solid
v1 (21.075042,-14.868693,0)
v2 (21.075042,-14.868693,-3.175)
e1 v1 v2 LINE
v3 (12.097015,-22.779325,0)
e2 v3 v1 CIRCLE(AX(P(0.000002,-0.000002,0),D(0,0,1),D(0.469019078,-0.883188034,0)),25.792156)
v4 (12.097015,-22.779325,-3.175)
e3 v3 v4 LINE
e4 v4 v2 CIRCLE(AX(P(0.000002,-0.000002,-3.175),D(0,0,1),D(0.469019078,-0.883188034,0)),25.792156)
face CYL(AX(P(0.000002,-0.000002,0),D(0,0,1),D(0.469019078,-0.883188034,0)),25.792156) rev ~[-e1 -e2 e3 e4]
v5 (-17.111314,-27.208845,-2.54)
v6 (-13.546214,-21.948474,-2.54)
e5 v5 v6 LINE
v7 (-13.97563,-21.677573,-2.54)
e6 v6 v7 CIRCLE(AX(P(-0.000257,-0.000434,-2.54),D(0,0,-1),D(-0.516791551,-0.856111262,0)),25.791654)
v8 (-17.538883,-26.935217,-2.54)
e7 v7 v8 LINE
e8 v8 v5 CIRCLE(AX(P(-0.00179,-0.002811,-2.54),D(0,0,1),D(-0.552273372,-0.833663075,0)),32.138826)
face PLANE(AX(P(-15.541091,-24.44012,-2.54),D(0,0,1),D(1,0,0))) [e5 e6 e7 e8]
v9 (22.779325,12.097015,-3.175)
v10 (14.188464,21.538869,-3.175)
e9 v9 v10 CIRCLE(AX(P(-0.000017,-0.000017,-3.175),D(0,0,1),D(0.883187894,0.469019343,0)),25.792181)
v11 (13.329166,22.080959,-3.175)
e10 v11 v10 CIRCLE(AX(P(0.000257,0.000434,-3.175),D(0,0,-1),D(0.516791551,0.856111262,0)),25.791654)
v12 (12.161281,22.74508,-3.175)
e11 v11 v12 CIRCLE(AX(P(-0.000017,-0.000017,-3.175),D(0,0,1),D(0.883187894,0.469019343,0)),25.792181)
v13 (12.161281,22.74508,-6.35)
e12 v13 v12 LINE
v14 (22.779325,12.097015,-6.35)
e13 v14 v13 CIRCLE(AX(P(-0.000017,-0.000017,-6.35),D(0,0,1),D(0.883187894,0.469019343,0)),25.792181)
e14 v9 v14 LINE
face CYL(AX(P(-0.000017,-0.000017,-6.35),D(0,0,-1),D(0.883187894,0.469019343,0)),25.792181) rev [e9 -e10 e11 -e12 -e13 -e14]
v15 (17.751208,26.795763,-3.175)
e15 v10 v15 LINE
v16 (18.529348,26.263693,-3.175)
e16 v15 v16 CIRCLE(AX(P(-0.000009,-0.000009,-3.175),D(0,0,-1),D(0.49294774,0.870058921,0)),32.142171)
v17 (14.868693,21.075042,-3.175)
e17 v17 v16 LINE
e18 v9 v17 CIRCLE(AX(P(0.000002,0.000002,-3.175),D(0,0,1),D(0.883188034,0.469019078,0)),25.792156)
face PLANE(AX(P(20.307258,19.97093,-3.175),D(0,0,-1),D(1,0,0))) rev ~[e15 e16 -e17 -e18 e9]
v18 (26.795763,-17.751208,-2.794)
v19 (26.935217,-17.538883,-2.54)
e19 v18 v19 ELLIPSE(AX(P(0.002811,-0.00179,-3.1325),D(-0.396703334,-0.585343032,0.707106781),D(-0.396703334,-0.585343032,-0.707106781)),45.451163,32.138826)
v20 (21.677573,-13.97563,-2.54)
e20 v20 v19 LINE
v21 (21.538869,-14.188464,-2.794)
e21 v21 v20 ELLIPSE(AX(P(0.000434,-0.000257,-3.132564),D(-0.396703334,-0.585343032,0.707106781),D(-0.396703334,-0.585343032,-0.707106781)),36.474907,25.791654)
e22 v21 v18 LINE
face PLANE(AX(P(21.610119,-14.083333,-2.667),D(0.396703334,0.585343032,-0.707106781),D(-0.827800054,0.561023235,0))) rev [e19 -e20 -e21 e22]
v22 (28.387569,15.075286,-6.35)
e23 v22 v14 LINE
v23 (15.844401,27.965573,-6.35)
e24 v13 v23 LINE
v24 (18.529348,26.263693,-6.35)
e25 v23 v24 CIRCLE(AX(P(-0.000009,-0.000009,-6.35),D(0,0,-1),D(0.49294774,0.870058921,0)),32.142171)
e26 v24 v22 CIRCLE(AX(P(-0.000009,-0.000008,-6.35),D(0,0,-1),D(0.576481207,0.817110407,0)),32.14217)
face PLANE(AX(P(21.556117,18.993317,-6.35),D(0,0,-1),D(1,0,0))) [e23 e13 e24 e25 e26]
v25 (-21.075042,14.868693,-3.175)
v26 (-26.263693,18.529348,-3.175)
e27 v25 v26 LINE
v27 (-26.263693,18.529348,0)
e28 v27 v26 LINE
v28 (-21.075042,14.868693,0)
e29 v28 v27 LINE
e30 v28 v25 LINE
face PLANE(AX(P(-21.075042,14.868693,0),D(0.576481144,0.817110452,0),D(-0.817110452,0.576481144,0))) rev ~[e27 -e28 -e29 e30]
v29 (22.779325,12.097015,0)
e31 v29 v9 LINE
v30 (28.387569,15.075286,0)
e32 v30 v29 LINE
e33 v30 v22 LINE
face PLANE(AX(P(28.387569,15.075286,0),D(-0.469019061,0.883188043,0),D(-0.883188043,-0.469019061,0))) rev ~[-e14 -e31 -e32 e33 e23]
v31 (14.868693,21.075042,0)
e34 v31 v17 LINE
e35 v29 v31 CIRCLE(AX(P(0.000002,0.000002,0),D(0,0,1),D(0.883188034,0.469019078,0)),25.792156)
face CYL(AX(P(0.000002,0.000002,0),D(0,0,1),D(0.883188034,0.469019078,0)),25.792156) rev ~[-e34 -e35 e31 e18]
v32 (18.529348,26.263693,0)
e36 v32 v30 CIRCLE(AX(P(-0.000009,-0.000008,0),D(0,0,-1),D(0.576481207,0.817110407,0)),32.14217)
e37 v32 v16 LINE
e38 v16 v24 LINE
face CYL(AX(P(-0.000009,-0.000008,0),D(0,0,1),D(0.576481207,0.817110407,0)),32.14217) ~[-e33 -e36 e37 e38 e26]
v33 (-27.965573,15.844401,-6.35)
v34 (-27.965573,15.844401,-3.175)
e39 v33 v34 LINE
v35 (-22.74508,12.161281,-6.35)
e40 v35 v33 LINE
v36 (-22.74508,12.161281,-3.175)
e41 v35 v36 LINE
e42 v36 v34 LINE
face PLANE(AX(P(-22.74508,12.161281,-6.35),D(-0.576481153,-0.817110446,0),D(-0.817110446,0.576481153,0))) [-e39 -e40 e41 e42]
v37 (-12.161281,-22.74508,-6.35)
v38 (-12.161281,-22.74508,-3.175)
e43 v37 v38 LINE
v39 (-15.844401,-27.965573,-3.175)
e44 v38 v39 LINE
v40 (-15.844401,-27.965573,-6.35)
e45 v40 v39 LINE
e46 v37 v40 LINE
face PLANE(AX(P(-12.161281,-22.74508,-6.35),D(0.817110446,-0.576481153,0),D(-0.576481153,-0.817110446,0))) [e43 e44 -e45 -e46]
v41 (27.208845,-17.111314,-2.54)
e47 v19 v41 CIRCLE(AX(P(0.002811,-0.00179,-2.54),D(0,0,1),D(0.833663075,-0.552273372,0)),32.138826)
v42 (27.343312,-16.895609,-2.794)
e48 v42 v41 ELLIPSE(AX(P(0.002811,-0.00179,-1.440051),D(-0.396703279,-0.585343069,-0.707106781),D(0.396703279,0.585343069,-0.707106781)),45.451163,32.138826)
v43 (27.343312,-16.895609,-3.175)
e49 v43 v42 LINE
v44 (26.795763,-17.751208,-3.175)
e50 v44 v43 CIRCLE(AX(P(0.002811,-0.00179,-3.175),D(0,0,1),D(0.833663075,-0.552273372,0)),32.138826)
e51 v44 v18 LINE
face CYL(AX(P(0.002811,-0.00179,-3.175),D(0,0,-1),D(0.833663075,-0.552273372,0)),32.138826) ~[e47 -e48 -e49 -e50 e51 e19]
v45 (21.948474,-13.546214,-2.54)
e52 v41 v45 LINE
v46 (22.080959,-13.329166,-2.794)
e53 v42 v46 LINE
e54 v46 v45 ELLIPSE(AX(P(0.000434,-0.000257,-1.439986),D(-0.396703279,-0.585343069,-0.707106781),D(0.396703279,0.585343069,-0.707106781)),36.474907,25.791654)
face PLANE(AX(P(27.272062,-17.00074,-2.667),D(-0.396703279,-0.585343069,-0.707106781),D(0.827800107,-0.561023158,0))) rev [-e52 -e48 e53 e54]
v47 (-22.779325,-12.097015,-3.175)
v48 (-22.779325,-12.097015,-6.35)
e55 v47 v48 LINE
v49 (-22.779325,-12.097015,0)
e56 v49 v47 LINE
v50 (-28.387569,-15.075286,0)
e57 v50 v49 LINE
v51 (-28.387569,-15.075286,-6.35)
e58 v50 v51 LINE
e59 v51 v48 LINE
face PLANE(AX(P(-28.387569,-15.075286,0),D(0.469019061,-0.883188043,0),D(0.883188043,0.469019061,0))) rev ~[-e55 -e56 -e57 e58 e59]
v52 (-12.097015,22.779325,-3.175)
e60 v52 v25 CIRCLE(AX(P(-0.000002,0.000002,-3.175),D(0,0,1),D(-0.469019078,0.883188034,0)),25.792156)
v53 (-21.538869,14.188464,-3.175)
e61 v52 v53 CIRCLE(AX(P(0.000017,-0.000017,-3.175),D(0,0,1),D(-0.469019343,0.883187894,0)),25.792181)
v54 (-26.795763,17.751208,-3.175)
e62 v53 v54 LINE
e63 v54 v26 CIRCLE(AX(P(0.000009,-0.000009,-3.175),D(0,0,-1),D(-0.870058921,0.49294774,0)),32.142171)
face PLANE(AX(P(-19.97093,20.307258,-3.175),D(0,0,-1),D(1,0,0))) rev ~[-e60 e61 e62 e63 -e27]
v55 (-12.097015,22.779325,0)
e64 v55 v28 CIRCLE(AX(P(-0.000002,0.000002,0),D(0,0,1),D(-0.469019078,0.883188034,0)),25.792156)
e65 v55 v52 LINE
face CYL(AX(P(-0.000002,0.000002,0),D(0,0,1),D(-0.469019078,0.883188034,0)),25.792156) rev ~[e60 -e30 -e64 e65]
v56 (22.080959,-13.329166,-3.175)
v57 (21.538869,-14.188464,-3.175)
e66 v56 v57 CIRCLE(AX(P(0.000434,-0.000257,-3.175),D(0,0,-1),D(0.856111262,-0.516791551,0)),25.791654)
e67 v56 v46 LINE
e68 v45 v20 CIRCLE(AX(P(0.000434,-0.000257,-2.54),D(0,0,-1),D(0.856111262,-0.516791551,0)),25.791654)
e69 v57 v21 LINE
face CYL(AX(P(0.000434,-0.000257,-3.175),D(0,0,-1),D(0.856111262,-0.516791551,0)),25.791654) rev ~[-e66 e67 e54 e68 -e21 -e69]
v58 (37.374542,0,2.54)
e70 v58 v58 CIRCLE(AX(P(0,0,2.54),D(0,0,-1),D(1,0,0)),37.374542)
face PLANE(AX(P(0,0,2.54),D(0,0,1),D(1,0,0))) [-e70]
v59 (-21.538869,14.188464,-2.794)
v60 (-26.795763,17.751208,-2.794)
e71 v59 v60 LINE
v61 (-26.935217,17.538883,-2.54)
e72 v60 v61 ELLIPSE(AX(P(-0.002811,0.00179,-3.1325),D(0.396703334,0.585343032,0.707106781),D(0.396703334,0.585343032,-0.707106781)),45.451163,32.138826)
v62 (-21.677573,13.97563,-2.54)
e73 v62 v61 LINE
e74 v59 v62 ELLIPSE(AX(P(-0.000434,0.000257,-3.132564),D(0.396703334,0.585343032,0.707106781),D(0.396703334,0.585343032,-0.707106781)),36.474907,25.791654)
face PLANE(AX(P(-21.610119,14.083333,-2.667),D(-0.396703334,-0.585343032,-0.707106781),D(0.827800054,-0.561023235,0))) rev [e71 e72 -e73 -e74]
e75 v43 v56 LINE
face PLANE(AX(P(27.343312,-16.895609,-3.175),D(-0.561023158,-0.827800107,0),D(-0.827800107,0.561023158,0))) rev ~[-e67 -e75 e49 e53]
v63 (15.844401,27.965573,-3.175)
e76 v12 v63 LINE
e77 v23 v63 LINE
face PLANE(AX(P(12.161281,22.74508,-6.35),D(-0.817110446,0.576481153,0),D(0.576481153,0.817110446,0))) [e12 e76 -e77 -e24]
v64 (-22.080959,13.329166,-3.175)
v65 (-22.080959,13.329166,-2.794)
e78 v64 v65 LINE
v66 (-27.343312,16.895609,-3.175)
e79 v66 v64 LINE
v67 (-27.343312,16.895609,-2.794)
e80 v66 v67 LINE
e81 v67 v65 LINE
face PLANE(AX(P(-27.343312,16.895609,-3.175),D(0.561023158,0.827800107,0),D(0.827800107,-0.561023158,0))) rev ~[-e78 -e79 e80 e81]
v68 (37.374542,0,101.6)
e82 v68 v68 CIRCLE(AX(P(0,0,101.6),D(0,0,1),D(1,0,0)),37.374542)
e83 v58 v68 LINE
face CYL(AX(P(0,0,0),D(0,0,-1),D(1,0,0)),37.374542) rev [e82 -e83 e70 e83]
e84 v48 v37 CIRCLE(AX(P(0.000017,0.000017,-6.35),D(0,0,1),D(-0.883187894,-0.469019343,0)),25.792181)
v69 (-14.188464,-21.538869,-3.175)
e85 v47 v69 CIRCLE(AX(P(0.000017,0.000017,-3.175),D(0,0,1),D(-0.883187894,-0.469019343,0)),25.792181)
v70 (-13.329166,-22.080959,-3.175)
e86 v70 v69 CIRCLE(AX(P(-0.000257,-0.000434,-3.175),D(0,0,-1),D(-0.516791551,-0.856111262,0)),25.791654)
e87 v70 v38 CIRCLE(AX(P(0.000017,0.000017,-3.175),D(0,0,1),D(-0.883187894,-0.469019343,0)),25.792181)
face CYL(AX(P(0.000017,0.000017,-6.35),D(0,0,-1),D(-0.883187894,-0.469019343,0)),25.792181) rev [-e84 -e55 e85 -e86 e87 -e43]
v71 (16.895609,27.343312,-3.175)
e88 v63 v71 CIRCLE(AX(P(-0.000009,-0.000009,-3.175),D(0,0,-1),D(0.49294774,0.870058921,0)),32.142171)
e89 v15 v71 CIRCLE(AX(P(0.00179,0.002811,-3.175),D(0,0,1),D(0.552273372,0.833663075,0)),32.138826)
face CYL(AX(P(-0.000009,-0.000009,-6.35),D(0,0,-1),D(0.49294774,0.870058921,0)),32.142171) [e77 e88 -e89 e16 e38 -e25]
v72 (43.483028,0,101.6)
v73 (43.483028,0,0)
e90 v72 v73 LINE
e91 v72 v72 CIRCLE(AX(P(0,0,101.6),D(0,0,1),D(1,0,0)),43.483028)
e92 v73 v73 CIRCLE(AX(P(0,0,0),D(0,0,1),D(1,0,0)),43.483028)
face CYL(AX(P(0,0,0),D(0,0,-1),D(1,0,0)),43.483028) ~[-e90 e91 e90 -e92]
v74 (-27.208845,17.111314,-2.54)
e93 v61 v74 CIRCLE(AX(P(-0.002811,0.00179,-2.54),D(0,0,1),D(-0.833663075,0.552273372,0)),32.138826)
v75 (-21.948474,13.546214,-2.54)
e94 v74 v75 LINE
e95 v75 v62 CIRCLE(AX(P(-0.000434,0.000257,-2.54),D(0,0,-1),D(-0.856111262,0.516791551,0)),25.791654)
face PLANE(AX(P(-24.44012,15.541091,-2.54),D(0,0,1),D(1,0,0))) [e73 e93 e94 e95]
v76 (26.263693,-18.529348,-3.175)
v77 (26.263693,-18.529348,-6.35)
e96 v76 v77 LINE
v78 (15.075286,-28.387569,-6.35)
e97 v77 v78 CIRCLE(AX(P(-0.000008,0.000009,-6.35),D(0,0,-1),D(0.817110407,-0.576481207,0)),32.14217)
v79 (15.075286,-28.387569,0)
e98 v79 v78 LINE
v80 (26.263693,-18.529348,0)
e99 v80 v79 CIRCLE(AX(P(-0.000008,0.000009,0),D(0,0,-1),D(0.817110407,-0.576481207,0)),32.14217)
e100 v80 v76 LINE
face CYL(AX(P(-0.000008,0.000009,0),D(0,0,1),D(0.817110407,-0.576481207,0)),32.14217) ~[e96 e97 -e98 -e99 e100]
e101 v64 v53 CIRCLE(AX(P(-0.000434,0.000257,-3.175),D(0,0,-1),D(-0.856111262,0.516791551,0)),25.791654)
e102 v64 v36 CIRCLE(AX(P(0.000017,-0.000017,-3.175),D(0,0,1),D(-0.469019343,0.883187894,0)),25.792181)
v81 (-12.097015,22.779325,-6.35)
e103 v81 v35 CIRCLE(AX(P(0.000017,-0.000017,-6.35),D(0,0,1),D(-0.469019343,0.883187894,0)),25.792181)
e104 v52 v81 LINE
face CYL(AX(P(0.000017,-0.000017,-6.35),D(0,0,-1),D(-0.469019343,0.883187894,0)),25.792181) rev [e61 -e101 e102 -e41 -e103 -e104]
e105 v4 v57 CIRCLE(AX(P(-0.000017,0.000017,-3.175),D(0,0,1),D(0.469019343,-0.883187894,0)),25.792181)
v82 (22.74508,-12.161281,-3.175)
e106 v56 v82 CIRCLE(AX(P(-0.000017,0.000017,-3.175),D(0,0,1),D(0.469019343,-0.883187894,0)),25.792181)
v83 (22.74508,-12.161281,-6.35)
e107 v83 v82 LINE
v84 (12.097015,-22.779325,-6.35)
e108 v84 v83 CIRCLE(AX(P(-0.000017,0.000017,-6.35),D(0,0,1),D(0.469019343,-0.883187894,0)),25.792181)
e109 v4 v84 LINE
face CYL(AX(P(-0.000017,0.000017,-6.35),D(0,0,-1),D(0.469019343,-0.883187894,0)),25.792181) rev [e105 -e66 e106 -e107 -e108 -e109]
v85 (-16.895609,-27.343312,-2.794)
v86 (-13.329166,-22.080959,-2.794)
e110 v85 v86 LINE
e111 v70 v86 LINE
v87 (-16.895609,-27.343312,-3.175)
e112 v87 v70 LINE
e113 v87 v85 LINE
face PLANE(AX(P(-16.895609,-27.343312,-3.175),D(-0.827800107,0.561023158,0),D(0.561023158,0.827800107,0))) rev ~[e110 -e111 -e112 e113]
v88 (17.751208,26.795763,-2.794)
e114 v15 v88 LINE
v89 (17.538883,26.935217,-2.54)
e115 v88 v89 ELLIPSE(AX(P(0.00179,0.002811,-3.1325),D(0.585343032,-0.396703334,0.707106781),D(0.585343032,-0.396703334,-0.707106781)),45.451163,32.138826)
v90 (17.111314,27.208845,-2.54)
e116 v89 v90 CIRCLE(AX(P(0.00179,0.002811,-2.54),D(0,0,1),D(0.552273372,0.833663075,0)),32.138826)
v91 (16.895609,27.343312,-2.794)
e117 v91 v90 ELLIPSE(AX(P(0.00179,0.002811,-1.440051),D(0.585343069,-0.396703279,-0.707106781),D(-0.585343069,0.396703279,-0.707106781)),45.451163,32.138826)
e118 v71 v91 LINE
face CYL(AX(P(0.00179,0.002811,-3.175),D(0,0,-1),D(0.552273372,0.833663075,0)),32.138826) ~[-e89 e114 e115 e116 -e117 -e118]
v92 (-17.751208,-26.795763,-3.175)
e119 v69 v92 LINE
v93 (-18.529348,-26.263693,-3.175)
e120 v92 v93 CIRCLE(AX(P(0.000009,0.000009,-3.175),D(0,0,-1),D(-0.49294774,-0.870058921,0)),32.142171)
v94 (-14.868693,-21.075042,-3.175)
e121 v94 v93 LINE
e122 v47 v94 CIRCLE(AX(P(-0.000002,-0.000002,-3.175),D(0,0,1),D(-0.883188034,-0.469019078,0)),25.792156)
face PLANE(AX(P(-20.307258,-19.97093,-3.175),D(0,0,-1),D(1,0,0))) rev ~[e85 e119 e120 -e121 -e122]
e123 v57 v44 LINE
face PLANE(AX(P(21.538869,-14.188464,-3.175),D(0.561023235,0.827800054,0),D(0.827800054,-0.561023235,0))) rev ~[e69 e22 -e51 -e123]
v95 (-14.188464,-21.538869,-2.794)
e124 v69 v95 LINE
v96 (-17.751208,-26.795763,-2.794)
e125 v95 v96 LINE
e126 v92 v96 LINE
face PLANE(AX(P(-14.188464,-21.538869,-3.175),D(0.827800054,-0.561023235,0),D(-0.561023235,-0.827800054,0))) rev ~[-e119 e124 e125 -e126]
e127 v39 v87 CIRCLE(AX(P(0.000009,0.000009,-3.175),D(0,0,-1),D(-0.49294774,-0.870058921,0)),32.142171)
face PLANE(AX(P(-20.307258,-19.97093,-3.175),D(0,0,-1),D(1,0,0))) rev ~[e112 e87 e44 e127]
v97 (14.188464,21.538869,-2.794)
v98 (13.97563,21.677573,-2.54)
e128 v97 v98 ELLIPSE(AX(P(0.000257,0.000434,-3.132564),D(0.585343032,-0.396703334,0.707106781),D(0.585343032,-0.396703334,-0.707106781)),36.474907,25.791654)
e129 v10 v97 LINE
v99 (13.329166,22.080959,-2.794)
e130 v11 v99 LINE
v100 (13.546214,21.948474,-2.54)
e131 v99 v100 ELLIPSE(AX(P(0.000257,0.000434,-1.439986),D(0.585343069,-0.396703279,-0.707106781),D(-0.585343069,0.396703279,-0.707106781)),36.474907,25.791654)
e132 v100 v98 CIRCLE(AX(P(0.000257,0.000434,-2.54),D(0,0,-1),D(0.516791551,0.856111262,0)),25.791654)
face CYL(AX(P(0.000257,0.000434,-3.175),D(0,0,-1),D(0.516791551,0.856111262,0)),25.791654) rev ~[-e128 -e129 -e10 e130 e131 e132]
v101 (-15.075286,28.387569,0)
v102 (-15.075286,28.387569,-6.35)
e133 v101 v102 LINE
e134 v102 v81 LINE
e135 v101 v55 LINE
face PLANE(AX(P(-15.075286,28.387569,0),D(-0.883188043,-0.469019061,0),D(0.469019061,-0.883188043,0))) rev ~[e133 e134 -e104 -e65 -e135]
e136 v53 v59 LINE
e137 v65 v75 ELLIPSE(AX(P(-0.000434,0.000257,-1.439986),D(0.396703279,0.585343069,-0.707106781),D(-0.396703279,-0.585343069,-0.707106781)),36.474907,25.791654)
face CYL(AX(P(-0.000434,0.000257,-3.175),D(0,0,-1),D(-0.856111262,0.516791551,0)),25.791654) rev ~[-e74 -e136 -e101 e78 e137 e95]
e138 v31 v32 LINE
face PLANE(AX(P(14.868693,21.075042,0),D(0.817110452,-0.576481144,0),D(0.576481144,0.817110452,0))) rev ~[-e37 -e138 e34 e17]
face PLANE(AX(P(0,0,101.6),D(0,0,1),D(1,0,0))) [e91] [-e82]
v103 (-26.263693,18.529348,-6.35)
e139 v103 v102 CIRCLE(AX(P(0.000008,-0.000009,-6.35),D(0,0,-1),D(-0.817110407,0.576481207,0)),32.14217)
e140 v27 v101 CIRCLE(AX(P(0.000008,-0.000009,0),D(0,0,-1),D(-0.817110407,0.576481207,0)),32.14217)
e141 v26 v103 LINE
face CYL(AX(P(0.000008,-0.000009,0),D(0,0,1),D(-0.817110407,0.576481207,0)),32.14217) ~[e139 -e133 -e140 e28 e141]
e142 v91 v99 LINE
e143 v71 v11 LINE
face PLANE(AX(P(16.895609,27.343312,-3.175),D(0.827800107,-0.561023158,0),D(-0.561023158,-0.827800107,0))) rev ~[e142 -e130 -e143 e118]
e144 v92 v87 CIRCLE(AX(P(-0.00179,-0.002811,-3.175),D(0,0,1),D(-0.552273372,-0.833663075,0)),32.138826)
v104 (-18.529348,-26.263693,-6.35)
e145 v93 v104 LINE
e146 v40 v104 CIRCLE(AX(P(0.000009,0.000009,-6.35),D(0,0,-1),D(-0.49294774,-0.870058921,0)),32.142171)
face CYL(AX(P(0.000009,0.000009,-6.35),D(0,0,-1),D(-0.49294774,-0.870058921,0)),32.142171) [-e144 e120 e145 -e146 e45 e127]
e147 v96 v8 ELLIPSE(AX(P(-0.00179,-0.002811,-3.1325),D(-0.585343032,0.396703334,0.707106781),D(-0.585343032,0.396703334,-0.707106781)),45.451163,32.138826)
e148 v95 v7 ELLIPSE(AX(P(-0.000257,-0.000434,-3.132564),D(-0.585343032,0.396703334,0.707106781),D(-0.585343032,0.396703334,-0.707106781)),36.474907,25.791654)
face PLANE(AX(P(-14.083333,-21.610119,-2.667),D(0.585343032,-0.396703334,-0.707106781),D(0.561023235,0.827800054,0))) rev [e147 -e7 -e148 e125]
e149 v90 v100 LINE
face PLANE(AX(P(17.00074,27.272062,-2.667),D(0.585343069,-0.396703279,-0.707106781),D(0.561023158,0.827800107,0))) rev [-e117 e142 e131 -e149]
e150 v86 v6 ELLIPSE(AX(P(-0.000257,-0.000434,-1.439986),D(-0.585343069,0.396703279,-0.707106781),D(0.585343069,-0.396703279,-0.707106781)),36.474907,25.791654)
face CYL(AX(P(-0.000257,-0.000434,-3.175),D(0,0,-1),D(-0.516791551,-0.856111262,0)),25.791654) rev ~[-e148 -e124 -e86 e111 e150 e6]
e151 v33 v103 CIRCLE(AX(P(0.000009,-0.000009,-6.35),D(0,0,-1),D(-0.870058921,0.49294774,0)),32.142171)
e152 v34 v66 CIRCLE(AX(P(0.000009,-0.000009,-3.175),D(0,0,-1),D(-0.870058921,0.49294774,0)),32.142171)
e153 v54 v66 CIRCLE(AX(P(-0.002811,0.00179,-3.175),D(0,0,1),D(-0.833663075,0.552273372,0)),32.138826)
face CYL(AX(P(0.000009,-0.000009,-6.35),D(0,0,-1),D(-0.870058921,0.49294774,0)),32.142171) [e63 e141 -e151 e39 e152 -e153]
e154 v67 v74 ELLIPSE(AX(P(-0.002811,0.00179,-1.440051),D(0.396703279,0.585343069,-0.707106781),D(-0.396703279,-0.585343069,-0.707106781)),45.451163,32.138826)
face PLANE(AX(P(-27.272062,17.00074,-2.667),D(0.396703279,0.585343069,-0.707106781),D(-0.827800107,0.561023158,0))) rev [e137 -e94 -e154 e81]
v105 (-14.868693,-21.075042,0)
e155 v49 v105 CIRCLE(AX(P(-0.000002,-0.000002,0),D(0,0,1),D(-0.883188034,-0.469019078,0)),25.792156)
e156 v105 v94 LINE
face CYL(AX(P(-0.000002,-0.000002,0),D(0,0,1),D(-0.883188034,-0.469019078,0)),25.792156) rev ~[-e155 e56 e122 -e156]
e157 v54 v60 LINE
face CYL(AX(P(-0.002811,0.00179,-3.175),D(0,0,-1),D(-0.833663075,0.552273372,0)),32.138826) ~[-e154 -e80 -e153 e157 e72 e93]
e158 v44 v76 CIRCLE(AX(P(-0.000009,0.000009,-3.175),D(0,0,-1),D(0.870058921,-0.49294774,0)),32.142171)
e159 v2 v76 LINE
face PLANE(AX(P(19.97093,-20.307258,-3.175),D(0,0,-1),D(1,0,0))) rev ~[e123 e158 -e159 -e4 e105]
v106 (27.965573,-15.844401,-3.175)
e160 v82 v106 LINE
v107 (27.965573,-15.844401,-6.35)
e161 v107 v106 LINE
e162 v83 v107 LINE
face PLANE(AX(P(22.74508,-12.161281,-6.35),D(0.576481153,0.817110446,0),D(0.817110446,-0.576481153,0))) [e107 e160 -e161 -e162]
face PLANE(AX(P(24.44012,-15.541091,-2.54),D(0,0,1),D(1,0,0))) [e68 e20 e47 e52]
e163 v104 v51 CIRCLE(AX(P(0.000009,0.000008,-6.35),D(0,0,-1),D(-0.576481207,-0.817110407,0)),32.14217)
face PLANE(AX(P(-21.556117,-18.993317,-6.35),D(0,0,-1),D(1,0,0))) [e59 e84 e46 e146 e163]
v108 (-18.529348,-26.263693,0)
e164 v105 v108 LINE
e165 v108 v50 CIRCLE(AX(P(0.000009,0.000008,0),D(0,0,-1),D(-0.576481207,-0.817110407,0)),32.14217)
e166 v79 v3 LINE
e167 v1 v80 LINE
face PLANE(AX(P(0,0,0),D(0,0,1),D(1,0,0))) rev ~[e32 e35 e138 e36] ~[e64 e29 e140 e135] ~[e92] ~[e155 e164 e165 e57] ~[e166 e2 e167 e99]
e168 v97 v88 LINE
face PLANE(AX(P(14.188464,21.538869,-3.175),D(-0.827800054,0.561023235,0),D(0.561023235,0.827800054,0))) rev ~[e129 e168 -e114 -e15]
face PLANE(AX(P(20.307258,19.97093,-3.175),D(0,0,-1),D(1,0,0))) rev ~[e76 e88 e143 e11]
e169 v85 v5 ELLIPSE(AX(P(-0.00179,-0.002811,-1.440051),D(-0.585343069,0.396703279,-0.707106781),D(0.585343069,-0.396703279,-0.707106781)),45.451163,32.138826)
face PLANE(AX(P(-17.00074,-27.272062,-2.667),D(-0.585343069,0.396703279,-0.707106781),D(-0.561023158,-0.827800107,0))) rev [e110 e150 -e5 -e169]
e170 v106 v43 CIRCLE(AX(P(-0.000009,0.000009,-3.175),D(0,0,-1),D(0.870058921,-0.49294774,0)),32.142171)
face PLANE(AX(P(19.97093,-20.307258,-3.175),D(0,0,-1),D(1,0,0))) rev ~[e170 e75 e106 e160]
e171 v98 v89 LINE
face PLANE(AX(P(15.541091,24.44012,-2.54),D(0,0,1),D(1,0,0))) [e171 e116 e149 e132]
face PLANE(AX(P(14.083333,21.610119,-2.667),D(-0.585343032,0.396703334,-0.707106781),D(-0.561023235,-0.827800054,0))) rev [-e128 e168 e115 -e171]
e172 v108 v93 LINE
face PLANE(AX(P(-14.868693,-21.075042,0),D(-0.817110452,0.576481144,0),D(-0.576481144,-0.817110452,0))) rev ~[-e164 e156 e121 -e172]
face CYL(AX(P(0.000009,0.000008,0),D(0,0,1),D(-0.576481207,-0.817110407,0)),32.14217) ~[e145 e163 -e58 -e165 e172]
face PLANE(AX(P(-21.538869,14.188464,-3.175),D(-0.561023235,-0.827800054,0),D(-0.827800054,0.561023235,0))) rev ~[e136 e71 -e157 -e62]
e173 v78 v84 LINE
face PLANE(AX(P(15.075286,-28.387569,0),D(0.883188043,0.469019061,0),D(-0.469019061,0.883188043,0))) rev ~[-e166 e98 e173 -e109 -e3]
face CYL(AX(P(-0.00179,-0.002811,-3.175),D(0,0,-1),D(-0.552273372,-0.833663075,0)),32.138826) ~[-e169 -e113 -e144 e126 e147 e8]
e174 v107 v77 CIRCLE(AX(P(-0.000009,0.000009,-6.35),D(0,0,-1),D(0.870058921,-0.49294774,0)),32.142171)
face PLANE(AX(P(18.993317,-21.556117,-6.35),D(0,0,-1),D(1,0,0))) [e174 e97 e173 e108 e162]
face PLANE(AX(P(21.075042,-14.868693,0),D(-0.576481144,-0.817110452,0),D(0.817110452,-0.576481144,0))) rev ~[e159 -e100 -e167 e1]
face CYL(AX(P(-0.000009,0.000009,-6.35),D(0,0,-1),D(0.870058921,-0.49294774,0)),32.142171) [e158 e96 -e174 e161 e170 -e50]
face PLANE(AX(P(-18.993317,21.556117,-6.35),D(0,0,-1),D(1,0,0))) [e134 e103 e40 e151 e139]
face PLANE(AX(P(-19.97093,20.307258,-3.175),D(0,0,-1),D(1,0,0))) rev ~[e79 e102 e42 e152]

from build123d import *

# Parameters (mm, degrees)
F0_R     = 43.483028
F0_R_2   = 37.374542
F1_DEPTH = 101.6
F2_R     = 43.483028
F3_DEPTH = 2.54
F5_DEPTH = 6.35
F7_DEPTH = 3.175
F9_DEPTH = 0.635
F10_SIZE = 0.254


with BuildPart() as f1:
    # F0 (on Top) → F1 (new body)
    with BuildSketch(Plane.XY):
        Circle(F0_R)
        Circle(F0_R_2, mode=Mode.SUBTRACT)
    extrude(amount=F1_DEPTH)

    # F2 (on Top) → F3 (join)
    with BuildSketch(Plane.XY):
        Circle(F2_R)
    extrude(amount=F3_DEPTH)

    # F4 (on face) → F5 (join)
    with BuildSketch(Plane(origin=(0, 0, 0), x_dir=(1, 0, 0), z_dir=(0, 0, -1))):
        with BuildLine():
            ThreePointArc((26.263693, 18.529348), (21.249092, 24.116268), (15.075286, 28.387569))
            Line((15.075286, 28.387569), (12.097015, 22.779325))
            ThreePointArc((12.097015, 22.779325), (17.051125, 19.351862), (21.075042, 14.868693))
            Line((21.075042, 14.868693), (26.263693, 18.529348))
        make_face()
        with BuildLine():
            Line((-28.387569, 15.075286), (-22.779325, 12.097015))
            ThreePointArc((-22.779325, 12.097015), (-19.351862, 17.051125), (-14.868693, 21.075042))
            Line((-14.868693, 21.075042), (-18.529348, 26.263693))
            ThreePointArc((-18.529348, 26.263693), (-24.116268, 21.249092), (-28.387569, 15.075286))
        make_face()
        with BuildLine():
            Line((-15.075286, -28.387569), (-12.097015, -22.779325))
            ThreePointArc((-12.097015, -22.779325), (-17.051125, -19.351862), (-21.075042, -14.868693))
            Line((-21.075042, -14.868693), (-26.263693, -18.529348))
            ThreePointArc((-26.263693, -18.529348), (-21.249092, -24.116268), (-15.075286, -28.387569))
        make_face()
        with BuildLine():
            Line((28.387569, -15.075286), (22.779325, -12.097015))
            ThreePointArc((22.779325, -12.097015), (19.351862, -17.051125), (14.868693, -21.075042))
            Line((14.868693, -21.075042), (18.529348, -26.263693))
            ThreePointArc((18.529348, -26.263693), (24.116268, -21.249092), (28.387569, -15.075286))
        make_face()
    extrude(amount=F5_DEPTH)

    # F6 (on face) → F7 (join)
    with BuildSketch(Plane(origin=(0, 0, -6.35), x_dir=(1, 0, 0), z_dir=(0, 0, -1))):
        with BuildLine():
            Line((15.075286, 28.387569), (12.097015, 22.779325))
            ThreePointArc((12.097015, 22.779325), (18.212045, 18.263537), (22.74508, 12.161281))
            Line((22.74508, 12.161281), (27.965573, 15.844401))
            ThreePointArc((27.965573, 15.844401), (22.415656, 23.035986), (15.075286, 28.387569))
        make_face()
        with BuildLine():
            Line((-28.387569, 15.075286), (-22.779325, 12.097015))
            ThreePointArc((-22.779325, 12.097015), (-18.263537, 18.212045), (-12.161281, 22.74508))
            Line((-12.161281, 22.74508), (-15.844401, 27.965573))
            ThreePointArc((-15.844401, 27.965573), (-23.035986, 22.415656), (-28.387569, 15.075286))
        make_face()
        with BuildLine():
            Line((-15.075286, -28.387569), (-12.097015, -22.779325))
            ThreePointArc((-12.097015, -22.779325), (-18.212045, -18.263537), (-22.74508, -12.161281))
            Line((-22.74508, -12.161281), (-27.965573, -15.844401))
            ThreePointArc((-27.965573, -15.844401), (-22.415656, -23.035986), (-15.075286, -28.387569))
        make_face()
        with BuildLine():
            Line((28.387569, -15.075286), (22.779325, -12.097015))
            ThreePointArc((22.779325, -12.097015), (18.263537, -18.212045), (12.161281, -22.74508))
            Line((12.161281, -22.74508), (15.844401, -27.965573))
            ThreePointArc((15.844401, -27.965573), (23.035986, -22.415656), (28.387569, -15.075286))
        make_face()
    extrude(amount=-F7_DEPTH)

    # F8 (on face) → F9 (join)
    with BuildSketch(Plane.XY.offset(-3.175)):
        with BuildLine():
            Line((14.188464, 21.538869), (17.751208, 26.795763))
            ThreePointArc((17.751208, 26.795763), (17.325572, 27.072918), (16.895609, 27.343312))
            Line((16.895609, 27.343312), (13.329166, 22.080959))
            ThreePointArc((13.329166, 22.080959), (13.761484, 21.814146), (14.188464, 21.538869))
        make_face()
        with BuildLine():
            Line((-21.538869, 14.188464), (-26.795763, 17.751208))
            ThreePointArc((-26.795763, 17.751208), (-27.072918, 17.325572), (-27.343312, 16.895609))
            Line((-27.343312, 16.895609), (-22.080959, 13.329166))
            ThreePointArc((-22.080959, 13.329166), (-21.814146, 13.761484), (-21.538869, 14.188464))
        make_face()
        with BuildLine():
            Line((-14.188464, -21.538869), (-17.751208, -26.795763))
            ThreePointArc((-17.751208, -26.795763), (-17.325572, -27.072918), (-16.895609, -27.343312))
            Line((-16.895609, -27.343312), (-13.329166, -22.080959))
            ThreePointArc((-13.329166, -22.080959), (-13.761484, -21.814146), (-14.188464, -21.538869))
        make_face()
        with BuildLine():
            Line((21.538869, -14.188464), (26.795763, -17.751208))
            ThreePointArc((26.795763, -17.751208), (27.072918, -17.325572), (27.343312, -16.895609))
            Line((27.343312, -16.895609), (22.080959, -13.329166))
            ThreePointArc((22.080959, -13.329166), (21.814146, -13.761484), (21.538869, -14.188464))
        make_face()
    extrude(amount=F9_DEPTH)

    # F10
    f10_edges = [f1.edges().sort_by_distance(p)[0] for p in [
        (15.112387, 24.712135, -2.54),
        (15.969836, 24.167316, -2.54),
        (24.167316, -15.969836, -2.54),
        (24.712135, -15.112387, -2.54),
        (-15.969836, -24.167316, -2.54),
        (-15.112387, -24.712135, -2.54),
        (-24.712135, 15.112387, -2.54),
        (-24.167316, 15.969836, -2.54),
    ]]
    chamfer(f10_edges, length=F10_SIZE)


solid = f1.part
